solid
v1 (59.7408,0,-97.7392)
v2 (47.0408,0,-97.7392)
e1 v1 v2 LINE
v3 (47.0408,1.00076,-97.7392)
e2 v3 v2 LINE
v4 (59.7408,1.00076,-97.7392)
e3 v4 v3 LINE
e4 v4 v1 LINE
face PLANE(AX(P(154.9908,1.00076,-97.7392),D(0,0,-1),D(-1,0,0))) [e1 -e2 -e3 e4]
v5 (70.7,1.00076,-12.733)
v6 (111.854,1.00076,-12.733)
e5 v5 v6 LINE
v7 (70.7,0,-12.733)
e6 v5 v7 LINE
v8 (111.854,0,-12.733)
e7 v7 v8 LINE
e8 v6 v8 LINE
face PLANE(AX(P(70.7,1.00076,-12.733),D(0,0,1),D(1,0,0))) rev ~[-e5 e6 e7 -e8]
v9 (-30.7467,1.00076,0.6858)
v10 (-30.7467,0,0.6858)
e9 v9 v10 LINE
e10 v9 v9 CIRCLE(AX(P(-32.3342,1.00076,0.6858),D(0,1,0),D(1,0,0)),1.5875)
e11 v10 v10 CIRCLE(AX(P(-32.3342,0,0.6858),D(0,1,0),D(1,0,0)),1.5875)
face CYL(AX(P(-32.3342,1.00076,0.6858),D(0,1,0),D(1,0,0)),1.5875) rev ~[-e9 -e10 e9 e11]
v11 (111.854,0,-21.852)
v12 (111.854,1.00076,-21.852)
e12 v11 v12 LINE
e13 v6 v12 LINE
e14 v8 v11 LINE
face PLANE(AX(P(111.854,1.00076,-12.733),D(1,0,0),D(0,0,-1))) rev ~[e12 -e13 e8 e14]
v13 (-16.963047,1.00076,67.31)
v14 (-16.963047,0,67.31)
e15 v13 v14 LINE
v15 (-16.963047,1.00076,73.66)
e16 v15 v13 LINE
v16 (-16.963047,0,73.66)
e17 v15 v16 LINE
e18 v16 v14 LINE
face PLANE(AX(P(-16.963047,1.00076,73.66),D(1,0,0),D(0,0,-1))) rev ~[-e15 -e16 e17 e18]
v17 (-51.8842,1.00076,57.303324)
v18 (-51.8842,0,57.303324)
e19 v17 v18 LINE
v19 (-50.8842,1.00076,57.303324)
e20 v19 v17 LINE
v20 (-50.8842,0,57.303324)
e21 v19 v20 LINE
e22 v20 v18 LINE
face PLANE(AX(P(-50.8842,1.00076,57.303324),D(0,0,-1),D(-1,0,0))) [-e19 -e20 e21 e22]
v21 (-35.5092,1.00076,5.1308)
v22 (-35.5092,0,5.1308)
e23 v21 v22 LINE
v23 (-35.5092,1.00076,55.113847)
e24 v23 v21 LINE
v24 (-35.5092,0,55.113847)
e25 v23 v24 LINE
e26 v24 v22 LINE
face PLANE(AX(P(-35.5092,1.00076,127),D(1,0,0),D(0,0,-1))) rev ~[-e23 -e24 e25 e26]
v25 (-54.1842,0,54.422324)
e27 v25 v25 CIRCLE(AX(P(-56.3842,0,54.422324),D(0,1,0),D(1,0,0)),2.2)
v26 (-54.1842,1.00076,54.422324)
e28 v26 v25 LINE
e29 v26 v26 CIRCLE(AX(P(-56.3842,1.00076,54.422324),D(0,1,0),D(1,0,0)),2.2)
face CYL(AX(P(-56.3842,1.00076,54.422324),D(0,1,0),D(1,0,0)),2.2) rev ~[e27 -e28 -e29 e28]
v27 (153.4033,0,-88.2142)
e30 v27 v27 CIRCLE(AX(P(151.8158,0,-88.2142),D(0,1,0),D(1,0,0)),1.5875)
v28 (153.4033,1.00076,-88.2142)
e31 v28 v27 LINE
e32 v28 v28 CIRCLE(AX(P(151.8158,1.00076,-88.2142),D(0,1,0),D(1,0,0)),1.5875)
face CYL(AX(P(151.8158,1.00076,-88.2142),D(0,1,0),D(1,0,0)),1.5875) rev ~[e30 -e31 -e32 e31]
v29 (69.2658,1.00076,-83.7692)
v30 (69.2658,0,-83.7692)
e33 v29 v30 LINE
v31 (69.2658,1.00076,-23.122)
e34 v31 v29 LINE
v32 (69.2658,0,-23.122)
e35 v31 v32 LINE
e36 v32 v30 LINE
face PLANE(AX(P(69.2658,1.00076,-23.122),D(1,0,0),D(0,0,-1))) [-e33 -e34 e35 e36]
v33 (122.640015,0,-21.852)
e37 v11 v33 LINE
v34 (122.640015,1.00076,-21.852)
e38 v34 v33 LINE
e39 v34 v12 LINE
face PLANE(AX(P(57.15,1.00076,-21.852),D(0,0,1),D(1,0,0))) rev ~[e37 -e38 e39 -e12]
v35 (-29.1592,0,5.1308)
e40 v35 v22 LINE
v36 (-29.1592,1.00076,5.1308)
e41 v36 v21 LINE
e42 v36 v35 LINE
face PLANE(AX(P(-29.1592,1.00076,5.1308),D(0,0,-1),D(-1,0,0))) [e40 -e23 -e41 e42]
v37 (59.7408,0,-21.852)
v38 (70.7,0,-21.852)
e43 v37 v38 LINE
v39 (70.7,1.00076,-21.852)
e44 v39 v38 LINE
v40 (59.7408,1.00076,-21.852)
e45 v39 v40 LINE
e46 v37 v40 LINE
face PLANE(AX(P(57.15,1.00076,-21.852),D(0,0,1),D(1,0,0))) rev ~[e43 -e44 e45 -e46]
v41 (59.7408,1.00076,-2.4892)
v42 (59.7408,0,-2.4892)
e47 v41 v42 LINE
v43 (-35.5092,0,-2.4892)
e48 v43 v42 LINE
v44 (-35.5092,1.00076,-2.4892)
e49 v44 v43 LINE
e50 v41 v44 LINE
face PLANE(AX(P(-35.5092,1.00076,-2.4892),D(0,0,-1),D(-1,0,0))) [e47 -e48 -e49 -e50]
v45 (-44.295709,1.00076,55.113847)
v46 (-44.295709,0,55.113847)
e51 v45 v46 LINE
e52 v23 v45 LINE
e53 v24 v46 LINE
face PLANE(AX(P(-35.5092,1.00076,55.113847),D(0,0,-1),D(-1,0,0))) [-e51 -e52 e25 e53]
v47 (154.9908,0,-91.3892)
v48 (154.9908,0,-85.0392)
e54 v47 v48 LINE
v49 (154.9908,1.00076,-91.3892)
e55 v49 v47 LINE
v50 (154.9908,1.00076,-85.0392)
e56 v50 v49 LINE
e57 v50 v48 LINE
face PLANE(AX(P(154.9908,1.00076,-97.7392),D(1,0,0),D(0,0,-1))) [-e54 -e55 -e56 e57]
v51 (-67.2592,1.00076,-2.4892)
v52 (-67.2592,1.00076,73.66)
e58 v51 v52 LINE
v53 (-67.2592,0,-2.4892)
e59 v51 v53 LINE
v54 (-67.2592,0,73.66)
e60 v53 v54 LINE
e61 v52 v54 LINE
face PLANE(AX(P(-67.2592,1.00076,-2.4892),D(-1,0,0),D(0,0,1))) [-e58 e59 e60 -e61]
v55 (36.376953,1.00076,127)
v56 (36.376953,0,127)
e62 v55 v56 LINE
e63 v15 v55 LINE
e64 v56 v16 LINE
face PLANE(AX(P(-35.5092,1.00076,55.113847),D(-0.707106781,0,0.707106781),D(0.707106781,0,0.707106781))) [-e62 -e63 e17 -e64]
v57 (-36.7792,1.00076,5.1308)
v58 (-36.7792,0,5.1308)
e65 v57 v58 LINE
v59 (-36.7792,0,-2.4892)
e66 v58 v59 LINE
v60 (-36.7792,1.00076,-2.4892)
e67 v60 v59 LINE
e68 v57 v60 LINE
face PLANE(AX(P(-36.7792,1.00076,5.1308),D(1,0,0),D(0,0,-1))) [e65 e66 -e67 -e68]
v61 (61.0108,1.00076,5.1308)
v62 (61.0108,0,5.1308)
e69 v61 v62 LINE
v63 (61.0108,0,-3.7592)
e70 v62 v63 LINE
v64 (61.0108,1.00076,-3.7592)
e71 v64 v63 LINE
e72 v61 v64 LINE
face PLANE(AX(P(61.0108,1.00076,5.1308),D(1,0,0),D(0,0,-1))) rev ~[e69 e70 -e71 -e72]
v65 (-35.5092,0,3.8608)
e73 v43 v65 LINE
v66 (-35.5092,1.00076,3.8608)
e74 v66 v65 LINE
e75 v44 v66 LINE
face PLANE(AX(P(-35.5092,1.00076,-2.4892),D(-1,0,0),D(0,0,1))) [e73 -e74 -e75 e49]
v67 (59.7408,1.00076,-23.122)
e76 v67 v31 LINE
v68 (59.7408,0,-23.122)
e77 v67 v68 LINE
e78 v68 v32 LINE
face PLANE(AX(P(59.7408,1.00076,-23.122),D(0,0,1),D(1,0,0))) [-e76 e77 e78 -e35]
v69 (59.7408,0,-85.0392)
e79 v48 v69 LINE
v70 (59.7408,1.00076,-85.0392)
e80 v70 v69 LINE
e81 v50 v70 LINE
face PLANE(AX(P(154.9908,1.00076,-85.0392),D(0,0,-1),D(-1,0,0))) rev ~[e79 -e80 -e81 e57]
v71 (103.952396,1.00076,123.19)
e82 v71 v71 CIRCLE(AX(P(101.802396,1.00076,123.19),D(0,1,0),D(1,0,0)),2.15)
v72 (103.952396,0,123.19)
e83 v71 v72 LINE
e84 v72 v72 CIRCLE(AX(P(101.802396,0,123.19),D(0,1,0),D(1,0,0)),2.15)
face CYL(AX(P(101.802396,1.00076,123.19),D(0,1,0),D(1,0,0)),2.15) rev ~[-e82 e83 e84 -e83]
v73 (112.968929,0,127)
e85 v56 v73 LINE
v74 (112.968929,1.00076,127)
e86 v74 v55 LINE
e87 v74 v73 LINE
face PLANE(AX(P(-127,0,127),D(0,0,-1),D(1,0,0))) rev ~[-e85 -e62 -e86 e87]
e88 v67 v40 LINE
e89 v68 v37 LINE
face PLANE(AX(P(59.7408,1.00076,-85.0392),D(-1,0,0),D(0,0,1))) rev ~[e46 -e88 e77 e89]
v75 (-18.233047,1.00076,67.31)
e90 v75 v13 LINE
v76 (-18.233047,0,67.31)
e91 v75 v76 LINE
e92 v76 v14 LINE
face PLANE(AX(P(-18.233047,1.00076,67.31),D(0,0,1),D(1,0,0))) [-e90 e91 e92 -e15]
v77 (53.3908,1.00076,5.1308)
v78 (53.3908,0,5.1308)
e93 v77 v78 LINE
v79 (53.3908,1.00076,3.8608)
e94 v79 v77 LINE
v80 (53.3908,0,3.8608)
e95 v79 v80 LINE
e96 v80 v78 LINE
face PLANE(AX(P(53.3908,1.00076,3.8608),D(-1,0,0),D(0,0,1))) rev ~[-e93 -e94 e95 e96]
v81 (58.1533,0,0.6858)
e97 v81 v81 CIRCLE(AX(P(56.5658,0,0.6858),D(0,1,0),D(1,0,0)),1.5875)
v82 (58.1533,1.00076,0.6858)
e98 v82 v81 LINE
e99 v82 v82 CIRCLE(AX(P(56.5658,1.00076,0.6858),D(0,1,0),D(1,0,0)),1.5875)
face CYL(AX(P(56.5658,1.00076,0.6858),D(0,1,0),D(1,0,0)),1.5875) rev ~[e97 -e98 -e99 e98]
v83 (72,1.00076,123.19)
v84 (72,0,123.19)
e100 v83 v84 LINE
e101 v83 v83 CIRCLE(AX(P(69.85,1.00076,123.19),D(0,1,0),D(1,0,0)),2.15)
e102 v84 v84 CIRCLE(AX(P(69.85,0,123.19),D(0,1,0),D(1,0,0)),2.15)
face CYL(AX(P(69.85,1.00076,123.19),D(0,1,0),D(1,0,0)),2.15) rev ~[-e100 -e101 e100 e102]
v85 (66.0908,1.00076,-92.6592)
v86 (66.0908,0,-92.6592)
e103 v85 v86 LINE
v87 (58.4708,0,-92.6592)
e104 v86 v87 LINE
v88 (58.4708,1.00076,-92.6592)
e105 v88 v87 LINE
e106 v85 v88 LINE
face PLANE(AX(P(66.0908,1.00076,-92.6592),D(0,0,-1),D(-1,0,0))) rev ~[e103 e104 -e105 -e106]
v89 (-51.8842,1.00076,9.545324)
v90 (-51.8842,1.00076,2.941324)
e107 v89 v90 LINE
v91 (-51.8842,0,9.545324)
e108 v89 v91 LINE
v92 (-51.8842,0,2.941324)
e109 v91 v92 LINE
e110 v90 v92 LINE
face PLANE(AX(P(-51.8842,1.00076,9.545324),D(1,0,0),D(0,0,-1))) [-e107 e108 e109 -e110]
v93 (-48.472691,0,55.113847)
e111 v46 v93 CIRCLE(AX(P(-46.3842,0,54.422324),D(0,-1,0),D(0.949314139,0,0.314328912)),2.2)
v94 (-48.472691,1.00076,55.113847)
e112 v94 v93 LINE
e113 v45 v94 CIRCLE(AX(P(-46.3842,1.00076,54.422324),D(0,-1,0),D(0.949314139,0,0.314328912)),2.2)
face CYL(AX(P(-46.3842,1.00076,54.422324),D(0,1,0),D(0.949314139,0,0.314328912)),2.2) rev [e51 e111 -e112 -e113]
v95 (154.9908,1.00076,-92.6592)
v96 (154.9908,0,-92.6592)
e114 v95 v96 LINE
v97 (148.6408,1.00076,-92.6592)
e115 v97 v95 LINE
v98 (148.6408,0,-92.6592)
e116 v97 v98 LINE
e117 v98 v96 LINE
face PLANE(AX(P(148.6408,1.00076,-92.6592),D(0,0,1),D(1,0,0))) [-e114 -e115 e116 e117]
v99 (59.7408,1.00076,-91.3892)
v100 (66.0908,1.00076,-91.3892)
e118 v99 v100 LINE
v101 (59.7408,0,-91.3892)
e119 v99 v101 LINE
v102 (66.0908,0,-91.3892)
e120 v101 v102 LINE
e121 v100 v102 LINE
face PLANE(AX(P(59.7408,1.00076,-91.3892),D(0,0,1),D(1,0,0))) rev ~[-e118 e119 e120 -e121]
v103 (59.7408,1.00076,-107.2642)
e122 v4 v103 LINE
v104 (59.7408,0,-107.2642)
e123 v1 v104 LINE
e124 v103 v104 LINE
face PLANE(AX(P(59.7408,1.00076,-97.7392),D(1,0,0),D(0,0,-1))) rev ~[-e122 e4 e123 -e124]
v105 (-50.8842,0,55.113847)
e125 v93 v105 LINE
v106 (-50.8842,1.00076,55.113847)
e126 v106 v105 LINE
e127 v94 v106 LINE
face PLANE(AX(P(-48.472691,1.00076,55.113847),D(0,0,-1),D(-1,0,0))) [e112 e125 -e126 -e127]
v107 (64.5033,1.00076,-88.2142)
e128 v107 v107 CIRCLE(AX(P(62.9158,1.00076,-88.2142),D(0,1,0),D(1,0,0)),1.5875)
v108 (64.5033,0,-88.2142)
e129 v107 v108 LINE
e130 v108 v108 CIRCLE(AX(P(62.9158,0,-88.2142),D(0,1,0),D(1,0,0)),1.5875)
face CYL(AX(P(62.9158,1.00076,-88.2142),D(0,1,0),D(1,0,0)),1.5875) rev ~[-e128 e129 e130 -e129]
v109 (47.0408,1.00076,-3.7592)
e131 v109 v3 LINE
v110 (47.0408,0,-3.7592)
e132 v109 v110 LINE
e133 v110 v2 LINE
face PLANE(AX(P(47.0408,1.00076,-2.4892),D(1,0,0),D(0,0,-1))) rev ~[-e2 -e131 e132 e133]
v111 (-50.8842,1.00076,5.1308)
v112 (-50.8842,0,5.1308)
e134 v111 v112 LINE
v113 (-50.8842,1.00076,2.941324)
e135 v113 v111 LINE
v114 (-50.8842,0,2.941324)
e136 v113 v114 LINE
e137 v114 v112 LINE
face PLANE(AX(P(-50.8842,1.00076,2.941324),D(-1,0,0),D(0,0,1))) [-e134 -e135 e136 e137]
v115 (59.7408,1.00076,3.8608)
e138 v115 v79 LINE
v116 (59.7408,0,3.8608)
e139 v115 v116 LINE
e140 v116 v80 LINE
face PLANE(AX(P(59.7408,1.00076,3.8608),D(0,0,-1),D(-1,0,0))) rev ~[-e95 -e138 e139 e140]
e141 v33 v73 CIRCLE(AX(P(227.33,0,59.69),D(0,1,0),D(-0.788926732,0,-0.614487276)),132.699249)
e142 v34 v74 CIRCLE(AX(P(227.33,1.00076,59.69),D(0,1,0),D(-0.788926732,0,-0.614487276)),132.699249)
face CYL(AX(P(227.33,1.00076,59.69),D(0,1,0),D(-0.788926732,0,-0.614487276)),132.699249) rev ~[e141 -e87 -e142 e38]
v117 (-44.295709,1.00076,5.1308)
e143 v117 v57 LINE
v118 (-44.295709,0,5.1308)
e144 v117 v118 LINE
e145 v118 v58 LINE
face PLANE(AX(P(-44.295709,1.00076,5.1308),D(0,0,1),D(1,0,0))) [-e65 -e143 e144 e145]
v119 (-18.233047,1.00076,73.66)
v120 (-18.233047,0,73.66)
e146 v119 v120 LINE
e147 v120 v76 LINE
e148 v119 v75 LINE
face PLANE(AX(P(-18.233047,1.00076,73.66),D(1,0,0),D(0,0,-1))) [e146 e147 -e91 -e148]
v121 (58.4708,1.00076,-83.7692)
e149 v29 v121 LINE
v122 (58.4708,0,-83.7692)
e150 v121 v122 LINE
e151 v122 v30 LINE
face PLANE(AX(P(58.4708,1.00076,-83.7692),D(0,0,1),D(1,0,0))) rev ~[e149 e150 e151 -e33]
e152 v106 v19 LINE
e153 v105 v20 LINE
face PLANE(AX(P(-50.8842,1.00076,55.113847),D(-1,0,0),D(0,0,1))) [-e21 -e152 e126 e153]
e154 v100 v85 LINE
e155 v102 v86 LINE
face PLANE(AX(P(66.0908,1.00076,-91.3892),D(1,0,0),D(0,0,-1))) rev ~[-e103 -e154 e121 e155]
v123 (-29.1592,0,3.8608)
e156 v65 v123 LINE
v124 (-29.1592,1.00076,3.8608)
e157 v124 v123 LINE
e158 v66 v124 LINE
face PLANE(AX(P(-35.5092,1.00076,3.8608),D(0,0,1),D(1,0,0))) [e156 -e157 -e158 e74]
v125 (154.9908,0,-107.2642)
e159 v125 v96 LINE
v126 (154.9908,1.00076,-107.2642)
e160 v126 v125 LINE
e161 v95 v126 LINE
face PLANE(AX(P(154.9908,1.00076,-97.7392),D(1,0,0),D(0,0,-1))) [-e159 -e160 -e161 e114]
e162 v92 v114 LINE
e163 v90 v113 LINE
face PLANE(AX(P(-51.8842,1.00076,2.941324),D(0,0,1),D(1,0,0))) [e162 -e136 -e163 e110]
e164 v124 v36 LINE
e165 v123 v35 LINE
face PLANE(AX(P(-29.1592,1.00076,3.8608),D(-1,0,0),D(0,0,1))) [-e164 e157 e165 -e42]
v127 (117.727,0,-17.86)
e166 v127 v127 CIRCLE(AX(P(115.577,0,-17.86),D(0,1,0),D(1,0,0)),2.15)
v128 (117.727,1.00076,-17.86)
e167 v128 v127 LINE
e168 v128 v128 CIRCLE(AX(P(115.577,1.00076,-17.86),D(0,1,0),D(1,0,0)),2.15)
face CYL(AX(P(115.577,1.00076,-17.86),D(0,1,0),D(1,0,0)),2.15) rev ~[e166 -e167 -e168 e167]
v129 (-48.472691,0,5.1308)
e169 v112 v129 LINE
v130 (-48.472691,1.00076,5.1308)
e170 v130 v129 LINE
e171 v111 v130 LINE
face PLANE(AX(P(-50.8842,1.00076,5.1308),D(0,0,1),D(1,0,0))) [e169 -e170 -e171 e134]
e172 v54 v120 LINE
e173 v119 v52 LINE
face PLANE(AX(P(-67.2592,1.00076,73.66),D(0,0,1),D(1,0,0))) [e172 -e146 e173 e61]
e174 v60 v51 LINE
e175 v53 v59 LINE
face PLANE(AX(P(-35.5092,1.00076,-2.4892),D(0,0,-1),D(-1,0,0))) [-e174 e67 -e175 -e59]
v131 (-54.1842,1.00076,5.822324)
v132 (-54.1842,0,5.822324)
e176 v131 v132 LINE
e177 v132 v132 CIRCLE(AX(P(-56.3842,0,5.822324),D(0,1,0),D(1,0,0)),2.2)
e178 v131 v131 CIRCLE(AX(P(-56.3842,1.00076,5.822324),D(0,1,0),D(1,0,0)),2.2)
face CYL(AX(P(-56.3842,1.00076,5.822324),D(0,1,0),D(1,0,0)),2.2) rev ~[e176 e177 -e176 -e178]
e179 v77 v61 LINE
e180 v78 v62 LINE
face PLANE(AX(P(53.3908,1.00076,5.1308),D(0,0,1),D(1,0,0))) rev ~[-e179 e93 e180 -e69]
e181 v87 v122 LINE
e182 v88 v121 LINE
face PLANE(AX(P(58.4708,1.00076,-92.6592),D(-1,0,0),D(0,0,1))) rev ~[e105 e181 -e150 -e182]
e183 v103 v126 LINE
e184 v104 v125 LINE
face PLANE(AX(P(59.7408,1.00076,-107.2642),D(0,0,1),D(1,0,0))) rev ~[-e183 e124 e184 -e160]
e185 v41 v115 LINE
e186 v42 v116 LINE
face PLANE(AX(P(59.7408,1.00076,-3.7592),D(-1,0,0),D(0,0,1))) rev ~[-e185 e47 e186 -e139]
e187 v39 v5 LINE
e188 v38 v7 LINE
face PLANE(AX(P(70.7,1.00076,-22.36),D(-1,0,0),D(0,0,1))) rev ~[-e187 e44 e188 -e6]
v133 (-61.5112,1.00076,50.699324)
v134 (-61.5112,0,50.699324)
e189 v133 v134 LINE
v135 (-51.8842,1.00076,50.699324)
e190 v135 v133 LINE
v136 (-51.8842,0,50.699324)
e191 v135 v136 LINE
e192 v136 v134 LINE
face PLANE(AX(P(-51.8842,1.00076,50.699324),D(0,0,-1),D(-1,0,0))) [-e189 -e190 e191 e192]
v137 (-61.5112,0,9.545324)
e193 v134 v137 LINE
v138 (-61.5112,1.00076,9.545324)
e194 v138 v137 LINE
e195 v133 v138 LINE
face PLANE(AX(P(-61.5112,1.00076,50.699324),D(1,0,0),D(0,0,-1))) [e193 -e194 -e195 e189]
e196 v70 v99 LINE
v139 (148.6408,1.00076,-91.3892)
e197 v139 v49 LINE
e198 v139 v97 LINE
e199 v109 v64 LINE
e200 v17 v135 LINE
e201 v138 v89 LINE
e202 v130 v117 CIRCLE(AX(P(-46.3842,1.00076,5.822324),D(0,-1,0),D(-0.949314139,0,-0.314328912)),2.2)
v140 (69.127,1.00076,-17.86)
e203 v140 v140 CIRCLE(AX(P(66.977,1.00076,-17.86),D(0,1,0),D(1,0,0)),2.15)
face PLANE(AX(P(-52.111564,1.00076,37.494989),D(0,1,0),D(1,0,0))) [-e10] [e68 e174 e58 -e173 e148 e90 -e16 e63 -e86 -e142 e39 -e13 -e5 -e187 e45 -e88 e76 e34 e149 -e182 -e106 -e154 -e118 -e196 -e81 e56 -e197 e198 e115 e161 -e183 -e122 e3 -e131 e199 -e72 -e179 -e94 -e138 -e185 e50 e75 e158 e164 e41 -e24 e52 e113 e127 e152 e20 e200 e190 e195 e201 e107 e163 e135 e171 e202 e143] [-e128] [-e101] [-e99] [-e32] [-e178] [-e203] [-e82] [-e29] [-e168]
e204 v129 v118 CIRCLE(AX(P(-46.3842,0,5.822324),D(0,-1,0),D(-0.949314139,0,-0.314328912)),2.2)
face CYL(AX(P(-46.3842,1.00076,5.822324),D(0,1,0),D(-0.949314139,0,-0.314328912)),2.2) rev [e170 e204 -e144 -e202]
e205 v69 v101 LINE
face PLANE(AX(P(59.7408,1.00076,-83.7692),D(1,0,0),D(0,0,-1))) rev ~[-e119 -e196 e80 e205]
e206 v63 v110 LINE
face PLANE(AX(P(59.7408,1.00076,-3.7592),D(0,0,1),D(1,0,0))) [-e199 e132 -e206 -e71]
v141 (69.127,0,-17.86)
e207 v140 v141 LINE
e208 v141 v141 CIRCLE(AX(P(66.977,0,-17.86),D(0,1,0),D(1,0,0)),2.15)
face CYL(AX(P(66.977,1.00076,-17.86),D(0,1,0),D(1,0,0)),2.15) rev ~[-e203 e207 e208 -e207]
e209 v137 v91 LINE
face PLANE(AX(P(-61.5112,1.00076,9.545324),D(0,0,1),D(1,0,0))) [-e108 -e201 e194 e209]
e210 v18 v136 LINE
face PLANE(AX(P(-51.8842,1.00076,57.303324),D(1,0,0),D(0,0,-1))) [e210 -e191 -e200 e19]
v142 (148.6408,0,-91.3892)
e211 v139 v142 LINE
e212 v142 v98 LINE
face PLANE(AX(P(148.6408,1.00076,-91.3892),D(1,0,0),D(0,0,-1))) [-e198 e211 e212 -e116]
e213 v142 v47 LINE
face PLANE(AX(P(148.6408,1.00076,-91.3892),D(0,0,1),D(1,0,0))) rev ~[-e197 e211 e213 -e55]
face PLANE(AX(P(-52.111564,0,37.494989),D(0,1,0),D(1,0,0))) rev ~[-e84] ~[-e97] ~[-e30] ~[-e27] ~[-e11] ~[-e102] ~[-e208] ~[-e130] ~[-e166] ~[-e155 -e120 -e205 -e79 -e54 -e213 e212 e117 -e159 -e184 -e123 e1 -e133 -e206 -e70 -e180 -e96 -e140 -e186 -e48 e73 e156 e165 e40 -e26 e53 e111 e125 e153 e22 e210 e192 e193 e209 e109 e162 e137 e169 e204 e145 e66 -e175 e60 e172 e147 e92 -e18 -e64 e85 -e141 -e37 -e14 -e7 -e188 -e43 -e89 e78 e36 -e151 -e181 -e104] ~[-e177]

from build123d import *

# Parameters (mm, degrees)
SKETCH2_W                    = 254
SKETCH2_H                    = 254
BOSS_EXTRUDE1_DEPTH          = 1.00076
SKETCH3_W                    = 69.85
SKETCH3_H                    = 25.4
CUT_EXTRUDE1_DEPTH           = 1
CUT_EXTRUDE1_DEPTH_BACK      = 2.00076
CUT_EXTRUDE2_DEPTH           = 1
CUT_EXTRUDE2_DEPTH_BACK      = 2.00076
SKETCH5_R                    = 2.150000018
CUT_EXTRUDE3_DEPTH           = 1
CUT_EXTRUDE3_DEPTH_BACK      = 2.00076
SKETCH6_R                    = 2.099999991
CUT_EXTRUDE4_DEPTH           = 1
CUT_EXTRUDE4_DEPTH_BACK      = 2.00076
SKETCH7_W                    = 95.25
SKETCH7_H                    = 95.25
CUT_EXTRUDE5_DEPTH           = 1
CUT_EXTRUDE5_DEPTH_BACK      = 2.00076
CUT_EXTRUDE6_DEPTH           = 1
CUT_EXTRUDE6_DEPTH_BACK      = 2.00076
BOSS_EXTRUDE4_DEPTH          = 1.00076
SKETCH18_W                   = 12.7
SKETCH18_H                   = 1.27
CUT_EXTRUDE_THIN4_DEPTH      = 1
CUT_EXTRUDE_THIN4_DEPTH_BACK = 2.00076
CUT_EXTRUDE7_DEPTH           = 1
CUT_EXTRUDE7_DEPTH_BACK      = 2.00076
SKETCH10_W                   = 9.525
SKETCH10_H                   = 60.6472
SKETCH10_W_2                 = 95.25
SKETCH10_H_2                 = 9.525
BOSS_EXTRUDE2_DEPTH          = 1.00076
SKETCH14_R                   = 2.200000045
BOSS_EXTRUDE3_DEPTH          = 1.00076
SKETCH15_W                   = 1.27
SKETCH15_H                   = 6.35
CUT_EXTRUDE_THIN3_DEPTH      = 1
CUT_EXTRUDE_THIN3_DEPTH_BACK = 2.00076
SKETCH19_R                   = 1.5875
CUT_EXTRUDE8_DEPTH           = 1
CUT_EXTRUDE8_DEPTH_BACK      = 2.00076
SKETCH20_W                   = 1.27
SKETCH20_H                   = 1.27
SKETCH20_W_2                 = 6.35
CUT_EXTRUDE12_DEPTH          = 1
CUT_EXTRUDE12_DEPTH_BACK     = 2.00076


with BuildPart() as part:
    # Sketch2 → Boss-Extrude1 (new body)
    with BuildSketch(Plane(origin=(0, 0, 0), x_dir=(1, 0, 0), z_dir=(0, 1, 0))):
        Rectangle(SKETCH2_W, SKETCH2_H)
    extrude(amount=BOSS_EXTRUDE1_DEPTH)

    # Sketch3 → Cut-Extrude1 (cut, two sides)
    with BuildSketch(Plane(origin=(0, 1.00076, 0), x_dir=(1, 0, 0), z_dir=(0, 1, 0))) as cut_extrude1_sk:
        with Locations((92.075, 34.552)):
            Rectangle(SKETCH3_W, SKETCH3_H)
    extrude(amount=CUT_EXTRUDE1_DEPTH, mode=Mode.SUBTRACT)
    extrude(cut_extrude1_sk.sketch, amount=-CUT_EXTRUDE1_DEPTH_BACK, mode=Mode.SUBTRACT)

    # Sketch4 → Cut-Extrude2 (cut, two sides)
    with BuildSketch(Plane(origin=(0, 1.00076, 0), x_dir=(1, 0, 0), z_dir=(0, 1, 0))) as cut_extrude2_sk:
        with BuildLine():
            Line((127, -127), (127, 21.852))
            Line((127, 21.852), (122.640015225, 21.852))
            ThreePointArc((122.640015225, 21.852), (94.909945844, -51.086516198), (112.96892893, -127))
            Line((112.96892893, -127), (127, -127))
        make_face()
    extrude(amount=CUT_EXTRUDE2_DEPTH, mode=Mode.SUBTRACT)
    extrude(cut_extrude2_sk.sketch, amount=-CUT_EXTRUDE2_DEPTH_BACK, mode=Mode.SUBTRACT)

    # Sketch5 → Cut-Extrude3 (cut, two sides)
    with BuildSketch(Plane(origin=(0, 1.00076, 0), x_dir=(1, 0, 0), z_dir=(0, 1, 0))) as cut_extrude3_sk:
        with Locations((69.85, -123.19)):
            Circle(SKETCH5_R)
        with Locations((101.802396213, -123.19)):
            Circle(SKETCH5_R)
        with Locations((66.977000031, 17.859999967)):
            Circle(SKETCH5_R)
        with Locations((115.577000113, 17.859999967)):
            Circle(SKETCH5_R)
    extrude(amount=CUT_EXTRUDE3_DEPTH, mode=Mode.SUBTRACT)
    extrude(cut_extrude3_sk.sketch, amount=-CUT_EXTRUDE3_DEPTH_BACK, mode=Mode.SUBTRACT)

    # Sketch6 → Cut-Extrude4 (cut, two sides)
    with BuildSketch(Plane(origin=(0, 1.00076, 0), x_dir=(1, 0, 0), z_dir=(0, 1, 0))) as cut_extrude4_sk:
        with Locations((66.977000031, 27.860000033)):
            Circle(SKETCH6_R)
        with Locations((66.977000031, 17.859999967)):
            Circle(SKETCH6_R)
        with Locations((115.577000113, 27.860000033)):
            Circle(SKETCH6_R)
        with Locations((115.577000113, 17.859999967)):
            Circle(SKETCH6_R)
        Polygon((70.700000078, 22.36), (70.700000078, 12.733000061), (111.854000066, 12.733000061), (111.854000066, 22.36), (118.458000066, 22.36), (118.458000066, 23.36), (111.854000066, 23.36), (111.854000066, 32.986999939), (70.700000078, 32.986999939), (70.700000078, 23.36), (64.096000078, 23.36), (64.096000078, 22.36), align=None)
    extrude(amount=CUT_EXTRUDE4_DEPTH, mode=Mode.SUBTRACT)
    extrude(cut_extrude4_sk.sketch, amount=-CUT_EXTRUDE4_DEPTH_BACK, mode=Mode.SUBTRACT)

    # Sketch7 → Cut-Extrude5 (cut, two sides)
    with BuildSketch(Plane(origin=(0, 1.00076, 0), x_dir=(1, 0, 0), z_dir=(0, 1, 0))) as cut_extrude5_sk:
        with Locations((12.1158, 50.1142)):
            Rectangle(SKETCH7_W, SKETCH7_H)
    extrude(amount=CUT_EXTRUDE5_DEPTH, mode=Mode.SUBTRACT)
    extrude(cut_extrude5_sk.sketch, amount=-CUT_EXTRUDE5_DEPTH_BACK, mode=Mode.SUBTRACT)

    # Sketch8 → Cut-Extrude6 (cut, two sides)
    with BuildSketch(Plane(origin=(0, 1.00076, 0), x_dir=(1, 0, 0), z_dir=(0, 1, 0))) as cut_extrude6_sk:
        Polygon((127, 47.252), (127, 127), (-127, 127), (-127, -127), (-35.5092, -127), (-35.5092, 47.252), align=None)
    extrude(amount=CUT_EXTRUDE6_DEPTH, mode=Mode.SUBTRACT)
    extrude(cut_extrude6_sk.sketch, amount=-CUT_EXTRUDE6_DEPTH_BACK, mode=Mode.SUBTRACT)

    # Sketch17 → Boss-Extrude4 (add)
    with BuildSketch(Plane(origin=(0, 1.00076, 0), x_dir=(1, 0, 0), z_dir=(0, 1, 0))):
        Polygon((59.7408, 2.4892), (47.0408, 2.4892), (47.0408, 97.7392), (59.7408, 97.7392), (154.9908, 97.7392), (154.9908, 85.0392), (59.7408, 85.0392), align=None)
    extrude(amount=-BOSS_EXTRUDE4_DEPTH)

    # Sketch18 → Cut-Extrude-Thin4 (cut, two sides)
    with BuildSketch(Plane(origin=(0, 1.00076, 0), x_dir=(1, 0, 0), z_dir=(0, 1, 0))) as cut_extrude_thin4_sk:
        with Locations((53.3908, 3.1242)):
            Rectangle(SKETCH18_W, SKETCH18_H)
    extrude(amount=CUT_EXTRUDE_THIN4_DEPTH, mode=Mode.SUBTRACT)
    extrude(cut_extrude_thin4_sk.sketch, amount=-CUT_EXTRUDE_THIN4_DEPTH_BACK, mode=Mode.SUBTRACT)

    # Sketch9 → Cut-Extrude7 (cut, two sides)
    with BuildSketch(Plane(origin=(0, 1.00076, 0), x_dir=(1, 0, 0), z_dir=(0, 1, 0))) as cut_extrude7_sk:
        Polygon((-35.5092, -55.113847322), (36.376952678, -127), (-35.5092, -127), align=None)
    extrude(amount=CUT_EXTRUDE7_DEPTH, mode=Mode.SUBTRACT)
    extrude(cut_extrude7_sk.sketch, amount=-CUT_EXTRUDE7_DEPTH_BACK, mode=Mode.SUBTRACT)

    # Sketch10 → Boss-Extrude2 (add)
    with BuildSketch(Plane(origin=(0, 1.00076, 0), x_dir=(1, 0, 0), z_dir=(0, 1, 0))):
        with Locations((64.5033, 53.4456)):
            Rectangle(SKETCH10_W, SKETCH10_H)
        with Locations((107.3658, 102.5017)):
            Rectangle(SKETCH10_W_2, SKETCH10_H_2)
    extrude(amount=-BOSS_EXTRUDE2_DEPTH)

    # Sketch14 → Boss-Extrude3 (add)
    with BuildSketch(Plane(origin=(0, 1.00076, 0), x_dir=(1, 0, 0), z_dir=(0, 1, 0))):
        with BuildLine():
            Line((-61.511199939, -50.699323655), (-61.511199939, -9.545323667))
            Line((-61.511199939, -9.545323667), (-51.8842, -9.545323667))
            Line((-51.8842, -9.545323667), (-51.8842, -2.941323667))
            Line((-51.8842, -2.941323667), (-50.8842, -2.941323667))
            Line((-50.8842, -2.941323667), (-50.8842, -5.1308))
            Line((-50.8842, -5.1308), (-48.472691116, -5.1308))
            ThreePointArc((-48.472691116, -5.1308), (-46.384199967, -3.622323575), (-44.295708818, -5.1308))
            Line((-44.295708818, -5.1308), (-35.5092, -5.1308))
            Line((-35.5092, -5.1308), (-35.5092, 2.4892))
            Line((-35.5092, 2.4892), (-67.2592, 2.4892))
            Line((-67.2592, 2.4892), (-67.2592, -73.66))
            Line((-67.2592, -73.66), (-16.963047322, -73.66))
            Line((-16.963047322, -73.66), (-35.5092, -55.113847322))
            Line((-35.5092, -55.113847322), (-44.295708818, -55.113847322))
            ThreePointArc((-44.295708818, -55.113847322), (-46.384199967, -56.622323747), (-48.472691116, -55.113847322))
            Line((-48.472691116, -55.113847322), (-50.8842, -55.113847322))
            Line((-50.8842, -55.113847322), (-50.8842, -57.303323655))
            Line((-50.8842, -57.303323655), (-51.8842, -57.303323655))
            Line((-51.8842, -57.303323655), (-51.8842, -50.699323655))
            Line((-51.8842, -50.699323655), (-61.511199939, -50.699323655))
        make_face()
        with Locations((-56.384200033, -54.422323702)):
            Circle(SKETCH14_R, mode=Mode.SUBTRACT)
        with Locations((-56.384200033, -5.82232362)):
            Circle(SKETCH14_R, mode=Mode.SUBTRACT)
    extrude(amount=-BOSS_EXTRUDE3_DEPTH)

    # Sketch15 → Cut-Extrude-Thin3 (cut, two sides)
    with BuildSketch(Plane(origin=(0, 1.00076, 0), x_dir=(1, 0, 0), z_dir=(0, 1, 0))) as cut_extrude_thin3_sk:
        with Locations((-17.598047322, -70.485)):
            Rectangle(SKETCH15_W, SKETCH15_H)
    extrude(amount=CUT_EXTRUDE_THIN3_DEPTH, mode=Mode.SUBTRACT)
    extrude(cut_extrude_thin3_sk.sketch, amount=-CUT_EXTRUDE_THIN3_DEPTH_BACK, mode=Mode.SUBTRACT)

    # Sketch19 → Cut-Extrude8 (cut, two sides)
    with BuildSketch(Plane(origin=(0, 1.00076, 0), x_dir=(1, 0, 0), z_dir=(0, 1, 0))) as cut_extrude8_sk:
        with Locations((56.5658, -0.6858)):
            Circle(SKETCH19_R)
        with Locations((-32.3342, -0.6858)):
            Circle(SKETCH19_R)
        with Locations((151.8158, 88.2142)):
            Circle(SKETCH19_R)
        with Locations((62.9158, 88.2142)):
            Circle(SKETCH19_R)
    extrude(amount=CUT_EXTRUDE8_DEPTH, mode=Mode.SUBTRACT)
    extrude(cut_extrude8_sk.sketch, amount=-CUT_EXTRUDE8_DEPTH_BACK, mode=Mode.SUBTRACT)

    # Sketch20 → Cut-Extrude12 (cut, two sides)
    with BuildSketch(Plane(origin=(0, 1.00076, 0), x_dir=(1, 0, 0), z_dir=(0, 1, 0))) as cut_extrude12_sk:
        with Locations((59.1058, 84.4042)):
            Rectangle(SKETCH20_W, SKETCH20_H)
        Polygon((59.7408, 91.3892), (66.0908, 91.3892), (66.0908, 92.6592), (58.4708, 92.6592), (58.4708, 85.0392), (59.7408, 85.0392), align=None)
        with Locations((60.3758, 3.1242)):
            Rectangle(SKETCH20_W, SKETCH20_H)
        Polygon((59.7408, -3.8608), (53.3908, -3.8608), (53.3908, -5.1308), (61.0108, -5.1308), (61.0108, 2.4892), (59.7408, 2.4892), align=None)
        Polygon((-29.1592, -3.8608), (-29.1592, -5.1308), (-36.7792, -5.1308), (-36.7792, 2.4892), (-35.5092, 2.4892), (-35.5092, -3.8608), align=None)
        with Locations((151.8158, 92.0242)):
            Rectangle(SKETCH20_W_2, SKETCH20_H)
    extrude(amount=CUT_EXTRUDE12_DEPTH, mode=Mode.SUBTRACT)
    extrude(cut_extrude12_sk.sketch, amount=-CUT_EXTRUDE12_DEPTH_BACK, mode=Mode.SUBTRACT)


solid = part.part
